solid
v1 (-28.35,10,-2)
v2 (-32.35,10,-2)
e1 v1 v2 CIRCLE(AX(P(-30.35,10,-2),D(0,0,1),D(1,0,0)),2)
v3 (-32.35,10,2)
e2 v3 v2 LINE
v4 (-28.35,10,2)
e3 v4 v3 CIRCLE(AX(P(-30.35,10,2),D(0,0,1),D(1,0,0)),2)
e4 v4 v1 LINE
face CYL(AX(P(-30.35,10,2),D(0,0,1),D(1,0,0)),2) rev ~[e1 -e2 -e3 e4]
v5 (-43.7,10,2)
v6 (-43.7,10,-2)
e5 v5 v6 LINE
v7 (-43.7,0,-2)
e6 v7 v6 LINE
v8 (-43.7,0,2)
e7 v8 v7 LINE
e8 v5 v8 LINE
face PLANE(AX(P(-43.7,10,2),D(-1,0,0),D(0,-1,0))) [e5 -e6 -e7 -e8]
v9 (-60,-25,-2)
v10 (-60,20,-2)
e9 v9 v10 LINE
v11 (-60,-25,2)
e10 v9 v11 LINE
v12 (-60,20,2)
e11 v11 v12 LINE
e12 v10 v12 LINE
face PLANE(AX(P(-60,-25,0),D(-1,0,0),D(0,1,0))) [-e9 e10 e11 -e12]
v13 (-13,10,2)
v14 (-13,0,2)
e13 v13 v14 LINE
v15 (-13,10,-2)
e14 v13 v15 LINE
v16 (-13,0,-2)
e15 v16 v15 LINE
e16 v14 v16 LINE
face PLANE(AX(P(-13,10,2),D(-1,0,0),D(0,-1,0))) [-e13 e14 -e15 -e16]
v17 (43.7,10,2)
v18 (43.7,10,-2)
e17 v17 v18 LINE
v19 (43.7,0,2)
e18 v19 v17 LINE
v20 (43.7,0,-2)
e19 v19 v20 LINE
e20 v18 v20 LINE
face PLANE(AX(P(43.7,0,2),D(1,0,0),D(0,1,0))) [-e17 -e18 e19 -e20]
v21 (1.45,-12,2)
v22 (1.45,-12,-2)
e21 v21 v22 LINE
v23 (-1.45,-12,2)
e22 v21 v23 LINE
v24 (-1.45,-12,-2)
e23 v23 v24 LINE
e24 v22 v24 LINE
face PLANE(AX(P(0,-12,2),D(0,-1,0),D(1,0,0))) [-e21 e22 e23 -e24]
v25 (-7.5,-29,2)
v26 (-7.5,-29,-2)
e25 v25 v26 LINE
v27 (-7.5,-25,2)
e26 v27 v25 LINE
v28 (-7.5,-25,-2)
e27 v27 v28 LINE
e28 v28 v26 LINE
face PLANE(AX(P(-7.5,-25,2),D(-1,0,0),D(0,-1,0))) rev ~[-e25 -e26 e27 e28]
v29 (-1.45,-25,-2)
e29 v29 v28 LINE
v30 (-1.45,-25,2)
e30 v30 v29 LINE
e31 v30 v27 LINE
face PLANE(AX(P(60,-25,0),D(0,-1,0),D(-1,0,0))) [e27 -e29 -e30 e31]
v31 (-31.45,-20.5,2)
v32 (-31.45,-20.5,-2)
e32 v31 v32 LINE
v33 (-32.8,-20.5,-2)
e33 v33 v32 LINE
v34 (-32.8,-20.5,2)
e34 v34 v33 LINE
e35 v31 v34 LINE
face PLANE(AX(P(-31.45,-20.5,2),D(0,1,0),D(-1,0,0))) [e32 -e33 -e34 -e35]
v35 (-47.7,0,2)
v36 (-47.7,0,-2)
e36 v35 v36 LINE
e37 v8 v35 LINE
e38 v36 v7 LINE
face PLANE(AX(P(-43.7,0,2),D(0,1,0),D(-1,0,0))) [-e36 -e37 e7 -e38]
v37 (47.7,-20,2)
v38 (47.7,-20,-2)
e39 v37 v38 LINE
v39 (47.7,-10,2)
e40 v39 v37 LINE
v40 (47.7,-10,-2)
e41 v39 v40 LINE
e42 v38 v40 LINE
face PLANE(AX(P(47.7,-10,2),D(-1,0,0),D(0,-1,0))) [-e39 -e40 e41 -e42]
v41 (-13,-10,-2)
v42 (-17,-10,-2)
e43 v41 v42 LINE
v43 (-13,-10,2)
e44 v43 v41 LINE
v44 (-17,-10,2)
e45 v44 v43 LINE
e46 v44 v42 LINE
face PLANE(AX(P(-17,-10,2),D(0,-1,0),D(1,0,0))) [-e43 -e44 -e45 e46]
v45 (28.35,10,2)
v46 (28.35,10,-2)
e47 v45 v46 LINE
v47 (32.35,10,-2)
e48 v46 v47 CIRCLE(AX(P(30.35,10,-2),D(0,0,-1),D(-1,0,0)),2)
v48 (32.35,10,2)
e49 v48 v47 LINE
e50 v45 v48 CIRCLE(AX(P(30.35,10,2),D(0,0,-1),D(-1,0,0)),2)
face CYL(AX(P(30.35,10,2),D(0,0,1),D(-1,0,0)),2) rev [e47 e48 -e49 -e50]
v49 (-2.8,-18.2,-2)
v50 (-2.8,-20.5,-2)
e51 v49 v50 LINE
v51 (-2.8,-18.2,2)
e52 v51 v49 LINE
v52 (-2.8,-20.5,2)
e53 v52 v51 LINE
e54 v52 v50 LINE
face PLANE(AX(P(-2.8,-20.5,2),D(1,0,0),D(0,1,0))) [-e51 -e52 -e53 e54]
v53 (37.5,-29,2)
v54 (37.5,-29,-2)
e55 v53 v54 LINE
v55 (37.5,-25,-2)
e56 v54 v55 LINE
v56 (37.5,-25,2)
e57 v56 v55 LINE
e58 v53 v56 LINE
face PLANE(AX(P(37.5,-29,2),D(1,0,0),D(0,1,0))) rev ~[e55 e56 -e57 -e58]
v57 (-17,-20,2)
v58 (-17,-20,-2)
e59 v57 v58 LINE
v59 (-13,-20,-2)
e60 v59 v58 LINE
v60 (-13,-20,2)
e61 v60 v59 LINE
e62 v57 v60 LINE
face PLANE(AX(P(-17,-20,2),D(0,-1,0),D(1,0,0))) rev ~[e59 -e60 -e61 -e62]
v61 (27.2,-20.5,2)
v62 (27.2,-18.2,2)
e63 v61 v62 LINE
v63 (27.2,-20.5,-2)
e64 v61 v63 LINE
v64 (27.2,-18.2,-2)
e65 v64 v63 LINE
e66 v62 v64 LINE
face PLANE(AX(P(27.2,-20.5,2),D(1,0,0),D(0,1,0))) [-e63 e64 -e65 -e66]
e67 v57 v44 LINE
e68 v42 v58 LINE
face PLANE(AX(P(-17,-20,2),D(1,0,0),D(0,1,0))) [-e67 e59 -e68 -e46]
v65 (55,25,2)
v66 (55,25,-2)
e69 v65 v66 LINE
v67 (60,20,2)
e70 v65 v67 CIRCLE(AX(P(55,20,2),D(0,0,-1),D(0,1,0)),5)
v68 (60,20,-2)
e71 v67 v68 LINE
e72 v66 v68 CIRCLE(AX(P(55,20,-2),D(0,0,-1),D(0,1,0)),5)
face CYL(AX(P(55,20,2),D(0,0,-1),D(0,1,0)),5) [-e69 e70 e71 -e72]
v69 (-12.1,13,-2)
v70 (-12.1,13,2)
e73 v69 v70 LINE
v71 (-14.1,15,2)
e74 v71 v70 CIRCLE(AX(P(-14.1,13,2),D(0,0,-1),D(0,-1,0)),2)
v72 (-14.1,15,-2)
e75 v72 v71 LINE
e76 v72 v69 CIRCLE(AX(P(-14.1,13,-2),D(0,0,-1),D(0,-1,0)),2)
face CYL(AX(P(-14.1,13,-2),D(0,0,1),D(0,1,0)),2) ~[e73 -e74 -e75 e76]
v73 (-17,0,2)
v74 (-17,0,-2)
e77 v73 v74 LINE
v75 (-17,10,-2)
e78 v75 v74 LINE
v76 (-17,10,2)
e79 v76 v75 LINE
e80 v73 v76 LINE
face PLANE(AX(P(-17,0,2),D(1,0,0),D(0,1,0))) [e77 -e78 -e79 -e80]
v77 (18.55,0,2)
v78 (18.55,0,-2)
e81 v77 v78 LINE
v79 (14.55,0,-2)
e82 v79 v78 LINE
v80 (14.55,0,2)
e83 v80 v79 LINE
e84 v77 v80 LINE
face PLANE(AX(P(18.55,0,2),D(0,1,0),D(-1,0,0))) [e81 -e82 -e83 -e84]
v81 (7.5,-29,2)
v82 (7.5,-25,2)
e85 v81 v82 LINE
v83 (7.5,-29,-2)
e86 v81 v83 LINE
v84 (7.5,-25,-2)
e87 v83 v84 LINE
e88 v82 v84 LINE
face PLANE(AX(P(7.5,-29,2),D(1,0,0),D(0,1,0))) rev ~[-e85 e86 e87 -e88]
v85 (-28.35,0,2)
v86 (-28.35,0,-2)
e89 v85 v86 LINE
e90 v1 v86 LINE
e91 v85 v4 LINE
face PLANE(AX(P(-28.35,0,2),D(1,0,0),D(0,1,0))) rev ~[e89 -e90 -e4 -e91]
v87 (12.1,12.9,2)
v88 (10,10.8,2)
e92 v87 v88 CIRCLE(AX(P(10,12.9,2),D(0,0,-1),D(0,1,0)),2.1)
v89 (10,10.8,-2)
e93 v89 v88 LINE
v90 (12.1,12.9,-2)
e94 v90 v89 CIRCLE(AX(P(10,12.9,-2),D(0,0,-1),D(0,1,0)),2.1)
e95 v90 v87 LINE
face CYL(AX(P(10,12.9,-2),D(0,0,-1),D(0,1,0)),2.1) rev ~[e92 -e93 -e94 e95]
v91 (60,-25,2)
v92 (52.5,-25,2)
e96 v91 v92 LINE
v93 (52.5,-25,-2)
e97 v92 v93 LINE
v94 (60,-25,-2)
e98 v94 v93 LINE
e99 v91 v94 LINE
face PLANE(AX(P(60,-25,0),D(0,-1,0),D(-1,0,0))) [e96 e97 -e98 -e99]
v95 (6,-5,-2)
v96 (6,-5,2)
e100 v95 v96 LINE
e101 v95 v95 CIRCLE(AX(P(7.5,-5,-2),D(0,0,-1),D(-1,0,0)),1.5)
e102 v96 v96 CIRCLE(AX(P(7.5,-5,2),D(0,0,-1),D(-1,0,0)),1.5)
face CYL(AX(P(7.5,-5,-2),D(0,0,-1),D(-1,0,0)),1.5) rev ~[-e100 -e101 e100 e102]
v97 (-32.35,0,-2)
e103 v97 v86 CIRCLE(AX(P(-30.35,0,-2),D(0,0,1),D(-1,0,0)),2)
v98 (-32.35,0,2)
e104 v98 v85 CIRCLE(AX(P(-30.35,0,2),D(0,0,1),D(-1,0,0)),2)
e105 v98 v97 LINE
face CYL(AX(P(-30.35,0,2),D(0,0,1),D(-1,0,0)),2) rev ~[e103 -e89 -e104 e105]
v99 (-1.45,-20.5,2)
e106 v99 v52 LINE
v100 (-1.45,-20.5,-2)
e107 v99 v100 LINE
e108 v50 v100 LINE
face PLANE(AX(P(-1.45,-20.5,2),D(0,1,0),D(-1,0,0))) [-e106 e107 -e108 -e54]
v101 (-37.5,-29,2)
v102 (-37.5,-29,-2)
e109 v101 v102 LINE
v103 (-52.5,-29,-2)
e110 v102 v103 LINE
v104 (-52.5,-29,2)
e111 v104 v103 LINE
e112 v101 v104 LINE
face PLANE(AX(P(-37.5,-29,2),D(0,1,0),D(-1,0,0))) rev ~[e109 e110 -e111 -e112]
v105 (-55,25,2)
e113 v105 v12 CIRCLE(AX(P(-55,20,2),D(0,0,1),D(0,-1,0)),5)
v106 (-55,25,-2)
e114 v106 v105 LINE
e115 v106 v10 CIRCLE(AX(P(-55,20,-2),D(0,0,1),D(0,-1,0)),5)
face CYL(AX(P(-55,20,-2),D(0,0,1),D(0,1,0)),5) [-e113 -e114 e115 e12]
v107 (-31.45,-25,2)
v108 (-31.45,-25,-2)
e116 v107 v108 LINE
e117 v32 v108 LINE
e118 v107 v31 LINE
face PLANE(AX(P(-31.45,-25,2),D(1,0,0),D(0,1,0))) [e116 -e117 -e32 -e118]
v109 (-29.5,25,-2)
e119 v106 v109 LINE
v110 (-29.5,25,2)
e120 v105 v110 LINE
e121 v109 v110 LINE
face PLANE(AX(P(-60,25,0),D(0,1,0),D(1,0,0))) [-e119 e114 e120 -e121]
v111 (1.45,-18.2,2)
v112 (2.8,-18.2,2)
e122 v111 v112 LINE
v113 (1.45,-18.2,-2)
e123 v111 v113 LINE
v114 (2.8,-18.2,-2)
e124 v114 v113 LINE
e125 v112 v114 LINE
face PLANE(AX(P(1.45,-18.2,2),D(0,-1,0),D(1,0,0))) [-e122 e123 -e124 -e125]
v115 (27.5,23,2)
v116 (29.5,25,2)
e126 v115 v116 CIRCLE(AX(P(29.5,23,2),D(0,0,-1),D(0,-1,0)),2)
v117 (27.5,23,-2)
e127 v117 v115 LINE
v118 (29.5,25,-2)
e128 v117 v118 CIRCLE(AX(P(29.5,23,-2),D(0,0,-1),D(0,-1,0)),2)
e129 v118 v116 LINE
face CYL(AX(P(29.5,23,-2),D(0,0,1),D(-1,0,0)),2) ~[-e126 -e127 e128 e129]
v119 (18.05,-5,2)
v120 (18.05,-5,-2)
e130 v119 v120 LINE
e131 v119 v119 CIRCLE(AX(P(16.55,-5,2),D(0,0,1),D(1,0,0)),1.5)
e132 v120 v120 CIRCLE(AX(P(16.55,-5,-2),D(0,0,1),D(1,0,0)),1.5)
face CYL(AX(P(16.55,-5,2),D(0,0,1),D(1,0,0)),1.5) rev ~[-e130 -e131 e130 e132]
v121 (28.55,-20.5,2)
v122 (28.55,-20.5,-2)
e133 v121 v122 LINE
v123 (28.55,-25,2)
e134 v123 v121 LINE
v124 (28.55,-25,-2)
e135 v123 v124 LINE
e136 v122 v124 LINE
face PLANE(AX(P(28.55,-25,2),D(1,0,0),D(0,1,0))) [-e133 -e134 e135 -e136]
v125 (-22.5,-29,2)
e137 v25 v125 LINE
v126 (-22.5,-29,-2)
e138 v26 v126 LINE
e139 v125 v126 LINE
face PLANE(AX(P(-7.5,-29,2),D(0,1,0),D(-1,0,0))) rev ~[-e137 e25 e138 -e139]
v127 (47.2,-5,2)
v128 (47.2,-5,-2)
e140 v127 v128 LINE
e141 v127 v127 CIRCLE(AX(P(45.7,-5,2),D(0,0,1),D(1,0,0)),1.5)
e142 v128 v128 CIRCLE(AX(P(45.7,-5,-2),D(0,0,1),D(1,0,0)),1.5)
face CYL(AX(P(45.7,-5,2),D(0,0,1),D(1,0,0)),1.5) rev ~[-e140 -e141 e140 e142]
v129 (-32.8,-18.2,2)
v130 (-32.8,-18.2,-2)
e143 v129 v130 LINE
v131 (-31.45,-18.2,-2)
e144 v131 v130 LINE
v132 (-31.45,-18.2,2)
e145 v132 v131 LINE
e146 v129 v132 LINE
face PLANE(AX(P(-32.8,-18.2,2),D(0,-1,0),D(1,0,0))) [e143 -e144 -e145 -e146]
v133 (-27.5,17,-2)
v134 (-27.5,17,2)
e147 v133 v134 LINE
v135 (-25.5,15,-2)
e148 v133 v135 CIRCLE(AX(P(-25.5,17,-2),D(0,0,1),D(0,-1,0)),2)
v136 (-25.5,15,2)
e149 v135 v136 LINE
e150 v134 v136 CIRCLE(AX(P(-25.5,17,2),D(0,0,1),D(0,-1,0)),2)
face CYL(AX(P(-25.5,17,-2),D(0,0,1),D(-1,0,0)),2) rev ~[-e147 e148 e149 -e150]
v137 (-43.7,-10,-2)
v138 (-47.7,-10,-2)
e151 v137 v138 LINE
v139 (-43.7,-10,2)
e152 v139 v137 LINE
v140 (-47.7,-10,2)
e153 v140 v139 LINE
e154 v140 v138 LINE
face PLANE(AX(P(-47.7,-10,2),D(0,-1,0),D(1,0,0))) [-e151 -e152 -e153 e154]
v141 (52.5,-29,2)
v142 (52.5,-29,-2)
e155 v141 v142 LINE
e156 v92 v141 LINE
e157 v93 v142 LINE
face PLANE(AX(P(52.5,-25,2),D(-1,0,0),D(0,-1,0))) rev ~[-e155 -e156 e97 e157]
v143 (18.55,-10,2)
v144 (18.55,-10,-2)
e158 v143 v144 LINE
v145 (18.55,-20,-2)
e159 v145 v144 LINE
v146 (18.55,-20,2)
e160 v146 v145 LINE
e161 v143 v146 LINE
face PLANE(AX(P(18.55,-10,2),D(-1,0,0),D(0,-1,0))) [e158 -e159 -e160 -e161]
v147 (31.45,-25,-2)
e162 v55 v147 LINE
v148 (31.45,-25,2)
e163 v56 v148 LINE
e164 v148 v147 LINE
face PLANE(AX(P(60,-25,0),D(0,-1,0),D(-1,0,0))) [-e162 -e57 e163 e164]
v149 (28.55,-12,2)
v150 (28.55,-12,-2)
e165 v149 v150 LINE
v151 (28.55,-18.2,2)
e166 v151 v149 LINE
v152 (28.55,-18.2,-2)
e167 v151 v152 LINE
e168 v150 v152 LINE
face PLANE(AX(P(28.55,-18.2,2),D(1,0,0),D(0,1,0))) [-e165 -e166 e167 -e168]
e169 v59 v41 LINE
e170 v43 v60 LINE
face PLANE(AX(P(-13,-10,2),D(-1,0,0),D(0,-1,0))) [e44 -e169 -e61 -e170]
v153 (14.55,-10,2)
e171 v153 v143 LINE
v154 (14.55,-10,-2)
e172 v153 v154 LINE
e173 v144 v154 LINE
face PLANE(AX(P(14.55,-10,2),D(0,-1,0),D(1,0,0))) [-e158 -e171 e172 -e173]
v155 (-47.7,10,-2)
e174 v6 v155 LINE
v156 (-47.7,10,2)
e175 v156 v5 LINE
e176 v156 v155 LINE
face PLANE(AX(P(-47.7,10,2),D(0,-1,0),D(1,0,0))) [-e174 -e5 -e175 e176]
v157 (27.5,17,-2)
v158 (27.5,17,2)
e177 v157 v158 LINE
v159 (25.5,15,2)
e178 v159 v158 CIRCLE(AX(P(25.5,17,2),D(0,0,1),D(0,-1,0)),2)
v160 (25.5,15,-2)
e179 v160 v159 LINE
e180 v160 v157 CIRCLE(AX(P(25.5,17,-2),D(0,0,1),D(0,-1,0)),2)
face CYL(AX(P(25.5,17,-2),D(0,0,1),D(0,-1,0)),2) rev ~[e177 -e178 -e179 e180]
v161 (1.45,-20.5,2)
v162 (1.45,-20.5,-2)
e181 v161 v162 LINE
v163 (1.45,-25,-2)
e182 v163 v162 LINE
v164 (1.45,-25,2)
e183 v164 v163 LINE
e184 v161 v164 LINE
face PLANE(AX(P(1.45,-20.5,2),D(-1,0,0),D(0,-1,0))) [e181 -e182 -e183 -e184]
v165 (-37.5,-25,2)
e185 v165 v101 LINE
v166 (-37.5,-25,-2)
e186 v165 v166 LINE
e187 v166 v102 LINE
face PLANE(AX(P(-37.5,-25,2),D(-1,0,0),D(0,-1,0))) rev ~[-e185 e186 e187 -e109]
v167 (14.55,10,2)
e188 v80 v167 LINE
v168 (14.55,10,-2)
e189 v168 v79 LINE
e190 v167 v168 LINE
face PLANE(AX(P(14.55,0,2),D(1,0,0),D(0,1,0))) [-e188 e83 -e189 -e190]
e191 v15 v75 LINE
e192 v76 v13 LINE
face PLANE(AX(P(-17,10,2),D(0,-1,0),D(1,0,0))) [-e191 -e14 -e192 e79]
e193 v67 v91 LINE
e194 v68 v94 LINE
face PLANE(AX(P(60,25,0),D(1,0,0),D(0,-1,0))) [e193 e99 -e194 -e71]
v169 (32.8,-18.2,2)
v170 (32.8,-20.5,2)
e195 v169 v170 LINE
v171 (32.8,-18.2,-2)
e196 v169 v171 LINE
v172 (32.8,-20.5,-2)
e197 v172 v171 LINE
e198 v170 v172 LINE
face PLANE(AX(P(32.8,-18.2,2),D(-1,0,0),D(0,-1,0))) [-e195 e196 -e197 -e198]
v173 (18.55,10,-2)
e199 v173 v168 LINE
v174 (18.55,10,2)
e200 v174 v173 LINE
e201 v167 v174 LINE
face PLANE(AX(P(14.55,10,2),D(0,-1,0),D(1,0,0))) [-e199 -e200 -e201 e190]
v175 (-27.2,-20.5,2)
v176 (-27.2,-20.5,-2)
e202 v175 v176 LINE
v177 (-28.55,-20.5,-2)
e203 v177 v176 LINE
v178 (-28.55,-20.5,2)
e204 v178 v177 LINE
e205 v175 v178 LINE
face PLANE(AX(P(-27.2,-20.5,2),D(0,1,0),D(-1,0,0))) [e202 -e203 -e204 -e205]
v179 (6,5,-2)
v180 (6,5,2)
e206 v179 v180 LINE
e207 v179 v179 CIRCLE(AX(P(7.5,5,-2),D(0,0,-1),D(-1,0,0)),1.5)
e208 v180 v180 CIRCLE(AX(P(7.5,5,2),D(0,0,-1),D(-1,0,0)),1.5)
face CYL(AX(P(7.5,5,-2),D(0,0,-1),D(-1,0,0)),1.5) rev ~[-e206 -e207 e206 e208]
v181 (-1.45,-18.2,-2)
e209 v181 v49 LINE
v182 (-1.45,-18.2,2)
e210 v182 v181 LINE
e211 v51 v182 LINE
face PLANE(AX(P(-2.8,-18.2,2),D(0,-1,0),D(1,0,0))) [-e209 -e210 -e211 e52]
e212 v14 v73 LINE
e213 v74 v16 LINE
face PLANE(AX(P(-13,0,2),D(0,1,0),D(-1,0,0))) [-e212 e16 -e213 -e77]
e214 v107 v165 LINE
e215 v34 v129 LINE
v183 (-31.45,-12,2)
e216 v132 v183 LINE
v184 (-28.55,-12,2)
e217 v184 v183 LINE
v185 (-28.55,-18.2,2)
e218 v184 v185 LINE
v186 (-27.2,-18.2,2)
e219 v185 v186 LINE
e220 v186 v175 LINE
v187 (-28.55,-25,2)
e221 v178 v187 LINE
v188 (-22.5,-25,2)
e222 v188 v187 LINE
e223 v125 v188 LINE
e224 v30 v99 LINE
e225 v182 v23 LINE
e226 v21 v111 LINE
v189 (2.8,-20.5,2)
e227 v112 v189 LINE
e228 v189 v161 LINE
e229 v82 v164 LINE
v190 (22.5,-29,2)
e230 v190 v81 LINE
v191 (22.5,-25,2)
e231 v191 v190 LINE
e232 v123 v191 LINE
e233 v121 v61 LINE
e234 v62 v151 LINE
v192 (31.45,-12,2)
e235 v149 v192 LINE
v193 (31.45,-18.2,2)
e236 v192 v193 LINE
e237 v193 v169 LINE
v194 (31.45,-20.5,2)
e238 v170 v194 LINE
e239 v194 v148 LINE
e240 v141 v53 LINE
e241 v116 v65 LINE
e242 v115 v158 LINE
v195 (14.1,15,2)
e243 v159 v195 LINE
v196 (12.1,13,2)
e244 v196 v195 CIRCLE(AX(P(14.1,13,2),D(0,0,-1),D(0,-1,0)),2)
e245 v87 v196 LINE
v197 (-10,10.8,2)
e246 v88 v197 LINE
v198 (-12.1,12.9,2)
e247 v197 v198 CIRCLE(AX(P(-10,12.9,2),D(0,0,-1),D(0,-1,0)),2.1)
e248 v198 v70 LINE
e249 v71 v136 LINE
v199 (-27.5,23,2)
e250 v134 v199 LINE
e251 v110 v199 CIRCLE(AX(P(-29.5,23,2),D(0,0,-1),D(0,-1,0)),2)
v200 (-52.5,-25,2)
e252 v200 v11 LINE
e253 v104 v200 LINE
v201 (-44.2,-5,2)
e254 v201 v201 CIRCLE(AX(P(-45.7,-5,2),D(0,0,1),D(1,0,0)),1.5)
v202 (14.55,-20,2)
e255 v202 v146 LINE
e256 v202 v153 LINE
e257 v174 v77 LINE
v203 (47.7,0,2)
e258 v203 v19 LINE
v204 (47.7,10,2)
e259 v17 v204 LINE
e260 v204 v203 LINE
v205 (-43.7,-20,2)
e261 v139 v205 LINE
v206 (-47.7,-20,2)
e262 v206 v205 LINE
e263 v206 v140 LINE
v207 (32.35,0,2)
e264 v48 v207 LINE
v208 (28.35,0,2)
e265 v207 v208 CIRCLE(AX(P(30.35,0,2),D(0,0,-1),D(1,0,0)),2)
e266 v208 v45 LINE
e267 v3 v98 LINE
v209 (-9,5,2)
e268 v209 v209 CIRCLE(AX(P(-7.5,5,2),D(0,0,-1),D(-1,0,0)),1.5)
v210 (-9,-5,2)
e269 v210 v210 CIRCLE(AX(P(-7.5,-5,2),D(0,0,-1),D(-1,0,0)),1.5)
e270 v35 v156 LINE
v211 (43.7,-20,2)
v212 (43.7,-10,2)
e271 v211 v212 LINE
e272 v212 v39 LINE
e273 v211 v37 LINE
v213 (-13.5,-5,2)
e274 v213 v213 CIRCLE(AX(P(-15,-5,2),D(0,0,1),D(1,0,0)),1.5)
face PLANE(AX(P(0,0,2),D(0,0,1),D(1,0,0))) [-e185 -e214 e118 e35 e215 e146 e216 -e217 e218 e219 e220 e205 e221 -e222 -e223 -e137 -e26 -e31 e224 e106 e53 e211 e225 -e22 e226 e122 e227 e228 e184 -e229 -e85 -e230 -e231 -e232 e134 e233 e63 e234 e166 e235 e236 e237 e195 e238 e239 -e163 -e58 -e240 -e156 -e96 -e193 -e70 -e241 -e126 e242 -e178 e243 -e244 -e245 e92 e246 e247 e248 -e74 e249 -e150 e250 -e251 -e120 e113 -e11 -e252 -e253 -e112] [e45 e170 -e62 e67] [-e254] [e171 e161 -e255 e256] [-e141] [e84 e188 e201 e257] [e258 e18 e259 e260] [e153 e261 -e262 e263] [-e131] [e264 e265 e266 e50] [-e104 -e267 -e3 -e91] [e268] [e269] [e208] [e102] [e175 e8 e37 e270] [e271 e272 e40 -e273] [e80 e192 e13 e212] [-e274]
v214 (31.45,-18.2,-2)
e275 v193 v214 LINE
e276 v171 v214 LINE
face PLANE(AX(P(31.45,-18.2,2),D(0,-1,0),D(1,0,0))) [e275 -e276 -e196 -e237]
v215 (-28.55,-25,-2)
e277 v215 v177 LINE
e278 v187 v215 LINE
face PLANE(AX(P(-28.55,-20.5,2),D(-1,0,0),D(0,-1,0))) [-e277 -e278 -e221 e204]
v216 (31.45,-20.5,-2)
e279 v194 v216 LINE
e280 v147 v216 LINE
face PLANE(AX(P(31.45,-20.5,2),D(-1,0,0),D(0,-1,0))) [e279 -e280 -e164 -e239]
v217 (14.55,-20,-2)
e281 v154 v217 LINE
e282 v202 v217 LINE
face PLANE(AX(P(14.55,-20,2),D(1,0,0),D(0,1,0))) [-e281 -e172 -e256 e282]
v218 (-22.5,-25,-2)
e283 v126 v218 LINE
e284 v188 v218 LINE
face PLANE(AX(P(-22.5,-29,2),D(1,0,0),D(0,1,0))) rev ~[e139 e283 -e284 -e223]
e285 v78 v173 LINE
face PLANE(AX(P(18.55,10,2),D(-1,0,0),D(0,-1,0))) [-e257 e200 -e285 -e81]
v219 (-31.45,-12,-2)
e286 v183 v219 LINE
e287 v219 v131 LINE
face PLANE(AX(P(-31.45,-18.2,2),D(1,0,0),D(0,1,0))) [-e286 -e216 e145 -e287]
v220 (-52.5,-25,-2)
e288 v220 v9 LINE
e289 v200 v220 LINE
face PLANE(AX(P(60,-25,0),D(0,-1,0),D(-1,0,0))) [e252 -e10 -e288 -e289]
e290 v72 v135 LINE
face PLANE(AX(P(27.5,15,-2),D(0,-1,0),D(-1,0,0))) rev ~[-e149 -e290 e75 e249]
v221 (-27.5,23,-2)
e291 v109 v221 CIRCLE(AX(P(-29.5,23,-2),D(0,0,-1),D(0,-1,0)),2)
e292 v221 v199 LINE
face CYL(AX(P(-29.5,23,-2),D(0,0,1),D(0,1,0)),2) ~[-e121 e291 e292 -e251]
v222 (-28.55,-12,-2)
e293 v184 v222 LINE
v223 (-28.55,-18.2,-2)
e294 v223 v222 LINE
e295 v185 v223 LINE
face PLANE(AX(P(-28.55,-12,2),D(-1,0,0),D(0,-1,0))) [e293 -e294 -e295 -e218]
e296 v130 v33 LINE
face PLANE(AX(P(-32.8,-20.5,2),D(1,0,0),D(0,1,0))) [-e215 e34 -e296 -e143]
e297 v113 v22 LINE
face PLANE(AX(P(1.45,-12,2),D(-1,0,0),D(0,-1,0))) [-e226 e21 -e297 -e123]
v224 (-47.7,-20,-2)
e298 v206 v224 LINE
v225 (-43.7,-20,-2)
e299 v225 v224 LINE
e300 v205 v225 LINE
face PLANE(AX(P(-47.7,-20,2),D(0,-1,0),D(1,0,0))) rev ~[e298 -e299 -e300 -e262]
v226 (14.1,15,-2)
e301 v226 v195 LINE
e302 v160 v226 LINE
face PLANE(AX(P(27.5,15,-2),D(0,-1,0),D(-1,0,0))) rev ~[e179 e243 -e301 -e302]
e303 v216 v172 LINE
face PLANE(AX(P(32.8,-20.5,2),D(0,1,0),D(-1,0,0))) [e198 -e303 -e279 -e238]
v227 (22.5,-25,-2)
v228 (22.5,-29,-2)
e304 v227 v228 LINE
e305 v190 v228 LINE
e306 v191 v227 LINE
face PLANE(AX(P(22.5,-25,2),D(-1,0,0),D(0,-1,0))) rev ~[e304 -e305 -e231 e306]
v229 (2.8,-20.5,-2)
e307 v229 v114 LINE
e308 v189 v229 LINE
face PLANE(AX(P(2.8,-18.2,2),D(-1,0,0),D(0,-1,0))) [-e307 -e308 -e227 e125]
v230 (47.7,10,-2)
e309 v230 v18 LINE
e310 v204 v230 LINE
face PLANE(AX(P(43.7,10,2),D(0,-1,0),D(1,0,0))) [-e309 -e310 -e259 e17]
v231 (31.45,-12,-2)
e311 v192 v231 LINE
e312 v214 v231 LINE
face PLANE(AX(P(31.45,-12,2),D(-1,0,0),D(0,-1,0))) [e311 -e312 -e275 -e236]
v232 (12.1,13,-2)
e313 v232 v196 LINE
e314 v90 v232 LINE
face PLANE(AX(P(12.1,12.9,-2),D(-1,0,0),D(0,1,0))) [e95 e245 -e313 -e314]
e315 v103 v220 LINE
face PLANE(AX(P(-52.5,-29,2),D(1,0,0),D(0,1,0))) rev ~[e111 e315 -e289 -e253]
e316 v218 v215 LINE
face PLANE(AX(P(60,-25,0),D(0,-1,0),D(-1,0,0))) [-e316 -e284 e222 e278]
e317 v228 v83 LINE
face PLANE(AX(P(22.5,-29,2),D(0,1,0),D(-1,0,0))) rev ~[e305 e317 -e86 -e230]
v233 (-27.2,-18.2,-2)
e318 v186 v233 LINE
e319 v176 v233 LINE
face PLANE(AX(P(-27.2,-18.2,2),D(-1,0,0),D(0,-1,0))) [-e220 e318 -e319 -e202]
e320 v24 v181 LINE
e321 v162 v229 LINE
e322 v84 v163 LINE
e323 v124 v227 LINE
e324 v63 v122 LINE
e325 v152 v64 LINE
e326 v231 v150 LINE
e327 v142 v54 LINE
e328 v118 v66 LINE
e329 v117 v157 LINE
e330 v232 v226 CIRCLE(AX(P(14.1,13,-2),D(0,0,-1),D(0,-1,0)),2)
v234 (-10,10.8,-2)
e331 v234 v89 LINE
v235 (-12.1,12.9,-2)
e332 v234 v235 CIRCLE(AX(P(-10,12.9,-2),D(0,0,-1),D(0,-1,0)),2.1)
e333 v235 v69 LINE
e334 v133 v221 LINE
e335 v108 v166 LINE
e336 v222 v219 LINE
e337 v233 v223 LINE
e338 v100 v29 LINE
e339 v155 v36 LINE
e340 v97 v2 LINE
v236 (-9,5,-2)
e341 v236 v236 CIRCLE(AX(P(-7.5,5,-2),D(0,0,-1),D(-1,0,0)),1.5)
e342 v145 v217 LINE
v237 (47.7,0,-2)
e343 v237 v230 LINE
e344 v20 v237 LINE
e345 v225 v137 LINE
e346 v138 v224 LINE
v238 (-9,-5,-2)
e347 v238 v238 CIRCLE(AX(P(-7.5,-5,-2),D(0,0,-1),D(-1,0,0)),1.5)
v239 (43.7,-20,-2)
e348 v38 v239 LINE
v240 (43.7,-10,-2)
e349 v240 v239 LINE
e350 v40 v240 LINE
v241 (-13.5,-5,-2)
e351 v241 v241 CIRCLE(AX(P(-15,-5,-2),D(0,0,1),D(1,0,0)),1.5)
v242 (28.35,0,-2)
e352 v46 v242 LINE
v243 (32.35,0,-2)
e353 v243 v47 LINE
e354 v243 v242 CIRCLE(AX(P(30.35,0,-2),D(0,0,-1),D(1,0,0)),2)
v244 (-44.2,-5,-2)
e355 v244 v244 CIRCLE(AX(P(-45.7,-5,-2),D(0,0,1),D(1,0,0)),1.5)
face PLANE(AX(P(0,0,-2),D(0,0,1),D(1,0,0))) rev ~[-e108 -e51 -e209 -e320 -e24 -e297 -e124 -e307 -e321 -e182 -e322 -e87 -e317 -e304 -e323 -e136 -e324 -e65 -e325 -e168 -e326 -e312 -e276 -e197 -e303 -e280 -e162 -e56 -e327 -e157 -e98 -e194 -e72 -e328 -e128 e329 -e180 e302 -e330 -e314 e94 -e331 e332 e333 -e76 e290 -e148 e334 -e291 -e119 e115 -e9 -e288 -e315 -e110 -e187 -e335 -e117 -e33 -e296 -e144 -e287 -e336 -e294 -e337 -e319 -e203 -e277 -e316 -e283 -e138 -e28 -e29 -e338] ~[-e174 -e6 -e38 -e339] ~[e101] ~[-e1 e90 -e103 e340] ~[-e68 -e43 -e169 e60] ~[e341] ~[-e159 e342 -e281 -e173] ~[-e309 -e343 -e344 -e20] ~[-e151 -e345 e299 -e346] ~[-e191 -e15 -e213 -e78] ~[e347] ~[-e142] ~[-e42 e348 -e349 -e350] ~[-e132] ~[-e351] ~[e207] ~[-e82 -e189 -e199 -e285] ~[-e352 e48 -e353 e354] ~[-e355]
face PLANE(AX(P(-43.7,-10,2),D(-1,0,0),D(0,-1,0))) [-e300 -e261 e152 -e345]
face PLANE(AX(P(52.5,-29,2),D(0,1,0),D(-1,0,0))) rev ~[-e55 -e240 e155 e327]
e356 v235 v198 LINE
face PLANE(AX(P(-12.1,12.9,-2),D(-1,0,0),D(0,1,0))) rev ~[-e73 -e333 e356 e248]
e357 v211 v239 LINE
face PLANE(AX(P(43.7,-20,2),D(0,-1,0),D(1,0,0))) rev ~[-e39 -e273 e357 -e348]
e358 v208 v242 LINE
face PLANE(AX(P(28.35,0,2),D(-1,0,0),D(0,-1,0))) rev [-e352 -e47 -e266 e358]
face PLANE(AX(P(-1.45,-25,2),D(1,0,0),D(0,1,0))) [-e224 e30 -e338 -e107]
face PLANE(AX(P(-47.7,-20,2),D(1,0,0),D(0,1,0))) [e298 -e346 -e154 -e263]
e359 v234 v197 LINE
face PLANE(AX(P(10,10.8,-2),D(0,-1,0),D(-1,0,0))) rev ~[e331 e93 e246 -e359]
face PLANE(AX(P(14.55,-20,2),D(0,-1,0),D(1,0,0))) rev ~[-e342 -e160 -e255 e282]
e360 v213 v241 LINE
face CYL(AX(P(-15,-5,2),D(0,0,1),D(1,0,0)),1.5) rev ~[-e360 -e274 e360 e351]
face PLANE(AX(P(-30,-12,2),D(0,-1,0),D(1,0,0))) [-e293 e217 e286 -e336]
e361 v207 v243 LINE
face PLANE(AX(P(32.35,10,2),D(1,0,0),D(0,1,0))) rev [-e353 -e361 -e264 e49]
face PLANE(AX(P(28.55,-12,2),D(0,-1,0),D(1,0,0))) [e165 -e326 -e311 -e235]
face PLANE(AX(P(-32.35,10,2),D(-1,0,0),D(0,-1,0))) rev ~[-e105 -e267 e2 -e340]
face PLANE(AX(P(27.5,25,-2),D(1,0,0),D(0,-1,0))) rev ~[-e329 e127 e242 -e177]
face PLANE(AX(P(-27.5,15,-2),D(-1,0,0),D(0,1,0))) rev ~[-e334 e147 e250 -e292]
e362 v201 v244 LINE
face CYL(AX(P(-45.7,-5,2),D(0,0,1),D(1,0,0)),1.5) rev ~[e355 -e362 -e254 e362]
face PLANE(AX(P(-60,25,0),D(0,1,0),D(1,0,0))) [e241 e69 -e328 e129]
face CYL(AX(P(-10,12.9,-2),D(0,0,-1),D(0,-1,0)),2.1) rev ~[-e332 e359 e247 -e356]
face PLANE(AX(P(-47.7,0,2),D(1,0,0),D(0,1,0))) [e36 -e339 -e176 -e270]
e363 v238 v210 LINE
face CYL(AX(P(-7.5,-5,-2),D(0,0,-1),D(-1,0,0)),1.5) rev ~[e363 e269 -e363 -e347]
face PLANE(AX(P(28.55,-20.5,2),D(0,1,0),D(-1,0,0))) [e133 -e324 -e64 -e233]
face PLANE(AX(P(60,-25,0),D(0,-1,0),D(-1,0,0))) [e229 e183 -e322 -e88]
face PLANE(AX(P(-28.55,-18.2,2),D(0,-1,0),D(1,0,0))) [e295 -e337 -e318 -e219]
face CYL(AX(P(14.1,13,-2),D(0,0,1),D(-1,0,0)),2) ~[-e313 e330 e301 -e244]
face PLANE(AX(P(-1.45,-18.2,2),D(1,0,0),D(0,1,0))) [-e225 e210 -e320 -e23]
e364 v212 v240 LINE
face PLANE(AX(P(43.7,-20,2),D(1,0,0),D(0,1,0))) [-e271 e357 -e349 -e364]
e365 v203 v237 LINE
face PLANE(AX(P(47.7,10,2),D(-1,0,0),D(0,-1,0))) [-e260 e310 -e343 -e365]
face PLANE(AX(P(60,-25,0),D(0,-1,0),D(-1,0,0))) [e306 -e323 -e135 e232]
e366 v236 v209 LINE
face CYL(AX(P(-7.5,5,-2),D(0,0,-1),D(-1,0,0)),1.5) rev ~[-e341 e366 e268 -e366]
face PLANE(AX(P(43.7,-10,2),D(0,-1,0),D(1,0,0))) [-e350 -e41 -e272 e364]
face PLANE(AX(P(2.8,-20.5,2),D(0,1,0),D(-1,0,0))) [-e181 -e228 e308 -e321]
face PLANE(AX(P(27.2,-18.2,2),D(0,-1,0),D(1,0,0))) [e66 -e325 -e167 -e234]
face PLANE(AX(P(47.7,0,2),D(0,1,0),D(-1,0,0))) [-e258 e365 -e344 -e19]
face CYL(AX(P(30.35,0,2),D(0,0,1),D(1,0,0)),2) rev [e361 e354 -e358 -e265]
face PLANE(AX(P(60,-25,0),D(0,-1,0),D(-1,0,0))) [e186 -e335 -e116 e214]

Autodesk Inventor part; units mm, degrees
sketch "Эскиз1" plane through (0, 0, 0) normal (0, 0, 1) x (1, 0, 0)
  line L0 (-60, 25) -> (60, 25)
  line L1 (60, 25) -> (60, -25)
  line L2 (60, -25) -> (-60, -25)
  line L3 (-60, -25) -> (-60, 25)
  line L4 (-60, 25) -> (60, -25) construction
  line L5 (60, 25) -> (-60, -25) construction
  point P0 (0, 0)
  dimension "d0" = 120
  dimension "d1" = 50
extrude "Выдавливание1" add sketch "Эскиз1" along normal mid plane 4
sketch "Эскиз2" plane through (0, 0, 2) normal (0, 0, 1) x (1, 0, 0)
  line L0 (-60, -25) -> (60, -25) projected
  line L1 (-52.5, -25) -> (-37.5, -25)
  line L2 (-37.5, -25) -> (-37.5, -29)
  line L3 (-37.5, -29) -> (-52.5, -29)
  line L4 (-52.5, -29) -> (-52.5, -25)
  line L5 (-22.5, -25) -> (-7.5, -25)
  line L6 (-7.5, -25) -> (-7.5, -29)
  line L7 (-7.5, -29) -> (-22.5, -29)
  line L8 (-22.5, -29) -> (-22.5, -25)
  line L9 (7.5, -25) -> (22.5, -25)
  line L10 (22.5, -25) -> (22.5, -29)
  line L11 (22.5, -29) -> (7.5, -29)
  line L12 (7.5, -29) -> (7.5, -25)
  line L13 (37.5, -25) -> (52.5, -25)
  line L14 (52.5, -25) -> (52.5, -29)
  line L15 (52.5, -29) -> (37.5, -29)
  line L16 (37.5, -29) -> (37.5, -25)
  point P0 (0, 0)
  dimension "d4" = 4
  dimension "d5" = 15
  dimension "d6" = 7.5
  dimension "d9" = 30
extrude "Выдавливание2" add sketch "Эскиз2" against normal up to surface (4 mm away)
sketch "Эскиз3" plane through (0, 0, 2) normal (0, 0, 1) x (1, 0, 0)
  line L0 (-22.5, -25) -> (-37.5, -25) projected
  line L1 (-28.55, -25) -> (-31.45, -25)
  line L2 (-31.45, -25) -> (-31.45, -12)
  line L3 (-31.45, -12) -> (-28.55, -12)
  line L4 (-28.55, -12) -> (-28.55, -25)
  line L5 (7.5, -25) -> (-7.5, -25) projected
  line L6 (1.45, -25) -> (-1.45, -25)
  line L7 (-1.45, -25) -> (-1.45, -12)
  line L8 (-1.45, -12) -> (1.45, -12)
  line L9 (1.45, -12) -> (1.45, -25)
  line L10 (31.45, -25) -> (28.55, -25)
  line L11 (28.55, -25) -> (28.55, -12)
  line L12 (28.55, -12) -> (31.45, -12)
  line L13 (31.45, -12) -> (31.45, -25)
  line L14 (22.5, -25) -> (37.5, -25) projected
  line L15 (-32.8, -18.2) -> (-27.2, -18.2)
  line L16 (-27.2, -18.2) -> (-27.2, -20.5)
  line L17 (-27.2, -20.5) -> (-32.8, -20.5)
  line L18 (-32.8, -20.5) -> (-32.8, -18.2)
  line L19 (-2.8, -18.2) -> (2.8, -18.2)
  line L20 (2.8, -18.2) -> (2.8, -20.5)
  line L21 (2.8, -20.5) -> (-2.8, -20.5)
  line L22 (-2.8, -20.5) -> (-2.8, -18.2)
  line L23 (27.2, -18.2) -> (32.8, -18.2)
  line L24 (32.8, -18.2) -> (32.8, -20.5)
  line L25 (32.8, -20.5) -> (27.2, -20.5)
  line L26 (27.2, -20.5) -> (27.2, -18.2)
  line L27 (30, -12) -> (30, -25) construction
  line L28 (-30, -12) -> (-30, -25)
  line L29 (0, 35.8) -> (0, -39.8) projected
  point P0 (0, 0)
  point P1 (0, -25)
  point P2 (-30, -18.2)
  point P3 (0, -18.2)
  point P4 (30, -18.2)
  point P5 (28.55, -20.5)
  point P6 (31.45, -20.5)
  point P7 (31.45, -18.2)
  point P8 (28.55, -18.2)
  point P9 (1.45, -18.2)
  point P10 (-1.45, -18.2)
  point P11 (-1.45, -20.5)
  point P12 (1.45, -20.5)
  point P13 (-31.45, -20.5)
  point P14 (-28.55, -20.5)
  point P15 (-28.55, -18.2)
  point P16 (-31.45, -18.2)
  dimension "d16" = 2.9
  dimension "d17" = 13
  dimension "d18" = 5.6
  dimension "d19" = 2.3
  dimension "d20" = 4.5
  dimension "d21" = 4.5
  dimension "d22" = 4.5
extrude "Выдавливание3" cut sketch "Эскиз3" against normal up to next
sketch "Эскиз4" plane through (0, 0, 2) normal (0, 0, 1) x (1, 0, 0)
  line L0 (-43.7, 0) -> (-47.7, 0) projected
  line L1 (-43.7, 10) -> (-43.7, 0) projected
  line L2 (-47.7, 10) -> (-43.7, 10) projected
  line L3 (-47.7, 0) -> (-47.7, 10) projected
  line L4 (-47.7, -20) -> (-43.7, -20) projected
  line L5 (-43.7, -10) -> (-43.7, -20) projected
  line L6 (-47.7, -10) -> (-43.7, -10) projected
  line L7 (-47.7, -20) -> (-47.7, -10) projected
  line L8 (47.7, 0) -> (43.7, 0) projected
  line L9 (47.7, 10) -> (47.7, 0) projected
  line L10 (43.7, 10) -> (47.7, 10) projected
  line L11 (43.7, 0) -> (43.7, 10) projected
  line L12 (43.7, -20) -> (47.7, -20) projected
  line L13 (47.7, -10) -> (47.7, -20) projected
  line L14 (43.7, -10) -> (47.7, -10) projected
  line L15 (43.7, -20) -> (43.7, -10) projected
  line L16 (-13, 0) -> (-17, 0) projected
  line L17 (-13, 10) -> (-13, 0) projected
  line L18 (-17, 10) -> (-13, 10) projected
  line L19 (-17, 0) -> (-17, 10) projected
  line L20 (-17, -20) -> (-13, -20) projected
  line L21 (-13, -10) -> (-13, -20) projected
  line L22 (-17, -10) -> (-13, -10) projected
  line L23 (-17, -20) -> (-17, -10) projected
  line L24 (14.55, -20) -> (18.55, -20) projected
  line L25 (18.55, -10) -> (18.55, -20) projected
  line L26 (14.55, -10) -> (18.55, -10) projected
  line L27 (14.55, -20) -> (14.55, -10) projected
  line L28 (18.55, 0) -> (14.55, 0) projected
  line L29 (18.55, 10) -> (18.55, 0) projected
  line L30 (14.55, 10) -> (18.55, 10) projected
  line L31 (14.55, 0) -> (14.55, 10) projected
extrude "Выдавливание4" cut sketch "Эскиз4" against normal up to next
sketch "Эскиз5" plane through (0, 0, 2) normal (0, 0, 1) x (1, 0, 0)
  line L0 (-84, 0) -> (84, 0) construction
  line L1 (-45.7, 35.8) -> (-45.7, -39.8) construction
  line L2 (45.7, 35.8) -> (45.7, -39.8) construction
  line L3 (-43.7, 0) -> (-47.7, 0) projected
  line L4 (-47.7, -10) -> (-43.7, -10) projected
  line L5 (43.7, -10) -> (47.7, -10) projected
  line L6 (47.7, 0) -> (43.7, 0) projected
  line L7 (-45.7, 0) -> (-45.7, -10) construction
  line L8 (-43.7, -10) -> (-47.7, -10) projected
  line L9 (45.7, 0) -> (45.7, -10) construction
  circle A0 centre (-45.7, -5) radius 1.5
  circle A1 centre (45.7, -5) radius 1.5
  line L10 (-17, 0) -> (-13, 0) projected
  line L11 (-15, 0) -> (-15, -10) construction
  line L12 (-13, -10) -> (-17, -10) projected
  circle A2 centre (-15, -5) radius 1.5
  line L13 (14.55, 0) -> (18.55, 0) projected
  line L14 (16.55, 0) -> (16.55, -10) construction
  line L15 (18.55, -10) -> (14.55, -10) projected
  circle A3 centre (16.55, -5) radius 1.5
  dimension "d30" = 3
extrude "Выдавливание5" cut sketch "Эскиз5" against normal up to next
sketch "Эскиз7" plane through (0, 0, -2) normal (0, 0, -1) x (-1, 0, 0)
  line L0 (60, 25) -> (-60, 25) projected
  line L1 (-27.5, 15) -> (27.5, 15)
  line L2 (27.5, 15) -> (27.5, 25)
  line L3 (27.5, 25) -> (-27.5, 25)
  line L4 (-27.5, 25) -> (-27.5, 15)
  line L5 (-27.5, 15) -> (27.5, 25) construction
  line L6 (27.5, 15) -> (-27.5, 25) construction
  line L7 (0, -41.7) -> (0, 47.2) construction
  point P0 (0, 0)
  point P1 (0, 20)
  point P2 (-27.5, 25)
  dimension "d37" = 55
  dimension "d38" = 10
extrude "Выдавливание7" cut sketch "Эскиз7" against normal up to next
fillet "Сопряжение1" radius 2 4 edges at (27.5, 15, 0) (27.5, 25, 0) (-27.5, 25, 0) (-27.5, 15, 0)
sketch "Эскиз8" plane through (0, 0, -2) normal (0, 0, -1) x (-1, 0, 0)
  circle A0 centre (-7.5, 5) radius 2
  circle A1 centre (7.5, 5) radius 2
  circle A2 centre (-7.5, -5) radius 2
  circle A3 centre (7.5, -5) radius 2
  line L0 (-7.5, -5) -> (7.5, -5) construction
  line L1 (7.5, 5) -> (-7.5, 5) construction
  line L2 (-7.5, 5) -> (7.5, -5) construction
  line L3 (7.5, 5) -> (-7.5, -5) construction
  line L4 (-7.5, 5) -> (-7.5, -5) construction
  line L5 (7.5, -5) -> (7.5, 5) construction
  circle A4 centre (-7.5, 5) radius 1.5
  circle A5 centre (7.5, 5) radius 1.5
  circle A6 centre (7.5, -5) radius 1.5
  circle A7 centre (-7.5, -5) radius 1.5
  point P0 (0, 0)
  point P1 (0, 0)
  dimension "d42" = 4
  dimension "d43" = 15
  dimension "d54" = 10
  dimension "d61" = 3
extrude "Выдавливание8" cut sketch "Эскиз8" against normal up to next contours A4 | A5 | A6 | A7
fillet "Сопряжение2" radius 5 2 edges at (60, 25, 0) (-60, 25, 0)
sketch "Эскиз9" plane through (0, 0, 2) normal (0, 0, 1) x (1, 0, 0)
  line L0 (-30.35, 0) -> (-30.35, 10) construction
  line L1 (-28.35, 0) -> (-28.35, 10)
  line L2 (-32.35, 10) -> (-32.35, 0)
  arc A0 (-32.35, 0) -> (-28.35, 0) centre (-30.35, 0) ccw
  arc A1 (-28.35, 10) -> (-32.35, 10) centre (-30.35, 10) ccw
  line L3 (-43.7, 10) -> (-43.7, 0) projected
  line L4 (-17, 0) -> (-17, 10) projected
  line L5 (-84, 0) -> (84, 0) construction
  point P0 (0, 0)
  point P1 (-30.35, 5)
  dimension "d47" = 10
  dimension "d48" = 2
  dimension "d50" = 13.35
  dimension "d51" = 5
extrude "Выдавливание9" cut sketch "Эскиз9" against normal up to next
mirror "Зеркальное отражение1" about plane through (0, 0, 0) normal (1, 0, 0) of "Выдавливание9"
sketch "Эскиз10" plane through (0, 0, -2) normal (0, 0, -1) x (-1, 0, 0)
  line L0 (-10, 12.9) -> (10, 12.9) construction
  line L1 (-10, 10.8) -> (10, 10.8)
  line L2 (10, 15) -> (-10, 15)
  arc A0 (-10, 15) -> (-10, 10.8) centre (-10, 12.9) ccw
  arc A1 (10, 10.8) -> (10, 15) centre (10, 12.9) ccw
  line L3 (0, -39.8) -> (0, 35.8) projected
  line L4 (25.5, 15) -> (-25.5, 15) projected
  line L5 (-12.1, 12.9) -> (-12.1, 15)
  line L6 (-25.5, 15) -> (25.5, 15) projected
  line L7 (12.1, 12.9) -> (12.1, 15)
  point P0 (0, 0)
  point P1 (0, 12.9)
  point P2 (0, 15)
  dimension "d55" = 2.1
  dimension "d56" = 20
extrude "Выдавливание10" cut sketch "Эскиз10" against normal up to next
fillet "Сопряжение4" radius 2 2 edges at (12.1, 15, 0) (-12.1, 15, 0)
properties part number "Выступ_под_крепление_маркера"
